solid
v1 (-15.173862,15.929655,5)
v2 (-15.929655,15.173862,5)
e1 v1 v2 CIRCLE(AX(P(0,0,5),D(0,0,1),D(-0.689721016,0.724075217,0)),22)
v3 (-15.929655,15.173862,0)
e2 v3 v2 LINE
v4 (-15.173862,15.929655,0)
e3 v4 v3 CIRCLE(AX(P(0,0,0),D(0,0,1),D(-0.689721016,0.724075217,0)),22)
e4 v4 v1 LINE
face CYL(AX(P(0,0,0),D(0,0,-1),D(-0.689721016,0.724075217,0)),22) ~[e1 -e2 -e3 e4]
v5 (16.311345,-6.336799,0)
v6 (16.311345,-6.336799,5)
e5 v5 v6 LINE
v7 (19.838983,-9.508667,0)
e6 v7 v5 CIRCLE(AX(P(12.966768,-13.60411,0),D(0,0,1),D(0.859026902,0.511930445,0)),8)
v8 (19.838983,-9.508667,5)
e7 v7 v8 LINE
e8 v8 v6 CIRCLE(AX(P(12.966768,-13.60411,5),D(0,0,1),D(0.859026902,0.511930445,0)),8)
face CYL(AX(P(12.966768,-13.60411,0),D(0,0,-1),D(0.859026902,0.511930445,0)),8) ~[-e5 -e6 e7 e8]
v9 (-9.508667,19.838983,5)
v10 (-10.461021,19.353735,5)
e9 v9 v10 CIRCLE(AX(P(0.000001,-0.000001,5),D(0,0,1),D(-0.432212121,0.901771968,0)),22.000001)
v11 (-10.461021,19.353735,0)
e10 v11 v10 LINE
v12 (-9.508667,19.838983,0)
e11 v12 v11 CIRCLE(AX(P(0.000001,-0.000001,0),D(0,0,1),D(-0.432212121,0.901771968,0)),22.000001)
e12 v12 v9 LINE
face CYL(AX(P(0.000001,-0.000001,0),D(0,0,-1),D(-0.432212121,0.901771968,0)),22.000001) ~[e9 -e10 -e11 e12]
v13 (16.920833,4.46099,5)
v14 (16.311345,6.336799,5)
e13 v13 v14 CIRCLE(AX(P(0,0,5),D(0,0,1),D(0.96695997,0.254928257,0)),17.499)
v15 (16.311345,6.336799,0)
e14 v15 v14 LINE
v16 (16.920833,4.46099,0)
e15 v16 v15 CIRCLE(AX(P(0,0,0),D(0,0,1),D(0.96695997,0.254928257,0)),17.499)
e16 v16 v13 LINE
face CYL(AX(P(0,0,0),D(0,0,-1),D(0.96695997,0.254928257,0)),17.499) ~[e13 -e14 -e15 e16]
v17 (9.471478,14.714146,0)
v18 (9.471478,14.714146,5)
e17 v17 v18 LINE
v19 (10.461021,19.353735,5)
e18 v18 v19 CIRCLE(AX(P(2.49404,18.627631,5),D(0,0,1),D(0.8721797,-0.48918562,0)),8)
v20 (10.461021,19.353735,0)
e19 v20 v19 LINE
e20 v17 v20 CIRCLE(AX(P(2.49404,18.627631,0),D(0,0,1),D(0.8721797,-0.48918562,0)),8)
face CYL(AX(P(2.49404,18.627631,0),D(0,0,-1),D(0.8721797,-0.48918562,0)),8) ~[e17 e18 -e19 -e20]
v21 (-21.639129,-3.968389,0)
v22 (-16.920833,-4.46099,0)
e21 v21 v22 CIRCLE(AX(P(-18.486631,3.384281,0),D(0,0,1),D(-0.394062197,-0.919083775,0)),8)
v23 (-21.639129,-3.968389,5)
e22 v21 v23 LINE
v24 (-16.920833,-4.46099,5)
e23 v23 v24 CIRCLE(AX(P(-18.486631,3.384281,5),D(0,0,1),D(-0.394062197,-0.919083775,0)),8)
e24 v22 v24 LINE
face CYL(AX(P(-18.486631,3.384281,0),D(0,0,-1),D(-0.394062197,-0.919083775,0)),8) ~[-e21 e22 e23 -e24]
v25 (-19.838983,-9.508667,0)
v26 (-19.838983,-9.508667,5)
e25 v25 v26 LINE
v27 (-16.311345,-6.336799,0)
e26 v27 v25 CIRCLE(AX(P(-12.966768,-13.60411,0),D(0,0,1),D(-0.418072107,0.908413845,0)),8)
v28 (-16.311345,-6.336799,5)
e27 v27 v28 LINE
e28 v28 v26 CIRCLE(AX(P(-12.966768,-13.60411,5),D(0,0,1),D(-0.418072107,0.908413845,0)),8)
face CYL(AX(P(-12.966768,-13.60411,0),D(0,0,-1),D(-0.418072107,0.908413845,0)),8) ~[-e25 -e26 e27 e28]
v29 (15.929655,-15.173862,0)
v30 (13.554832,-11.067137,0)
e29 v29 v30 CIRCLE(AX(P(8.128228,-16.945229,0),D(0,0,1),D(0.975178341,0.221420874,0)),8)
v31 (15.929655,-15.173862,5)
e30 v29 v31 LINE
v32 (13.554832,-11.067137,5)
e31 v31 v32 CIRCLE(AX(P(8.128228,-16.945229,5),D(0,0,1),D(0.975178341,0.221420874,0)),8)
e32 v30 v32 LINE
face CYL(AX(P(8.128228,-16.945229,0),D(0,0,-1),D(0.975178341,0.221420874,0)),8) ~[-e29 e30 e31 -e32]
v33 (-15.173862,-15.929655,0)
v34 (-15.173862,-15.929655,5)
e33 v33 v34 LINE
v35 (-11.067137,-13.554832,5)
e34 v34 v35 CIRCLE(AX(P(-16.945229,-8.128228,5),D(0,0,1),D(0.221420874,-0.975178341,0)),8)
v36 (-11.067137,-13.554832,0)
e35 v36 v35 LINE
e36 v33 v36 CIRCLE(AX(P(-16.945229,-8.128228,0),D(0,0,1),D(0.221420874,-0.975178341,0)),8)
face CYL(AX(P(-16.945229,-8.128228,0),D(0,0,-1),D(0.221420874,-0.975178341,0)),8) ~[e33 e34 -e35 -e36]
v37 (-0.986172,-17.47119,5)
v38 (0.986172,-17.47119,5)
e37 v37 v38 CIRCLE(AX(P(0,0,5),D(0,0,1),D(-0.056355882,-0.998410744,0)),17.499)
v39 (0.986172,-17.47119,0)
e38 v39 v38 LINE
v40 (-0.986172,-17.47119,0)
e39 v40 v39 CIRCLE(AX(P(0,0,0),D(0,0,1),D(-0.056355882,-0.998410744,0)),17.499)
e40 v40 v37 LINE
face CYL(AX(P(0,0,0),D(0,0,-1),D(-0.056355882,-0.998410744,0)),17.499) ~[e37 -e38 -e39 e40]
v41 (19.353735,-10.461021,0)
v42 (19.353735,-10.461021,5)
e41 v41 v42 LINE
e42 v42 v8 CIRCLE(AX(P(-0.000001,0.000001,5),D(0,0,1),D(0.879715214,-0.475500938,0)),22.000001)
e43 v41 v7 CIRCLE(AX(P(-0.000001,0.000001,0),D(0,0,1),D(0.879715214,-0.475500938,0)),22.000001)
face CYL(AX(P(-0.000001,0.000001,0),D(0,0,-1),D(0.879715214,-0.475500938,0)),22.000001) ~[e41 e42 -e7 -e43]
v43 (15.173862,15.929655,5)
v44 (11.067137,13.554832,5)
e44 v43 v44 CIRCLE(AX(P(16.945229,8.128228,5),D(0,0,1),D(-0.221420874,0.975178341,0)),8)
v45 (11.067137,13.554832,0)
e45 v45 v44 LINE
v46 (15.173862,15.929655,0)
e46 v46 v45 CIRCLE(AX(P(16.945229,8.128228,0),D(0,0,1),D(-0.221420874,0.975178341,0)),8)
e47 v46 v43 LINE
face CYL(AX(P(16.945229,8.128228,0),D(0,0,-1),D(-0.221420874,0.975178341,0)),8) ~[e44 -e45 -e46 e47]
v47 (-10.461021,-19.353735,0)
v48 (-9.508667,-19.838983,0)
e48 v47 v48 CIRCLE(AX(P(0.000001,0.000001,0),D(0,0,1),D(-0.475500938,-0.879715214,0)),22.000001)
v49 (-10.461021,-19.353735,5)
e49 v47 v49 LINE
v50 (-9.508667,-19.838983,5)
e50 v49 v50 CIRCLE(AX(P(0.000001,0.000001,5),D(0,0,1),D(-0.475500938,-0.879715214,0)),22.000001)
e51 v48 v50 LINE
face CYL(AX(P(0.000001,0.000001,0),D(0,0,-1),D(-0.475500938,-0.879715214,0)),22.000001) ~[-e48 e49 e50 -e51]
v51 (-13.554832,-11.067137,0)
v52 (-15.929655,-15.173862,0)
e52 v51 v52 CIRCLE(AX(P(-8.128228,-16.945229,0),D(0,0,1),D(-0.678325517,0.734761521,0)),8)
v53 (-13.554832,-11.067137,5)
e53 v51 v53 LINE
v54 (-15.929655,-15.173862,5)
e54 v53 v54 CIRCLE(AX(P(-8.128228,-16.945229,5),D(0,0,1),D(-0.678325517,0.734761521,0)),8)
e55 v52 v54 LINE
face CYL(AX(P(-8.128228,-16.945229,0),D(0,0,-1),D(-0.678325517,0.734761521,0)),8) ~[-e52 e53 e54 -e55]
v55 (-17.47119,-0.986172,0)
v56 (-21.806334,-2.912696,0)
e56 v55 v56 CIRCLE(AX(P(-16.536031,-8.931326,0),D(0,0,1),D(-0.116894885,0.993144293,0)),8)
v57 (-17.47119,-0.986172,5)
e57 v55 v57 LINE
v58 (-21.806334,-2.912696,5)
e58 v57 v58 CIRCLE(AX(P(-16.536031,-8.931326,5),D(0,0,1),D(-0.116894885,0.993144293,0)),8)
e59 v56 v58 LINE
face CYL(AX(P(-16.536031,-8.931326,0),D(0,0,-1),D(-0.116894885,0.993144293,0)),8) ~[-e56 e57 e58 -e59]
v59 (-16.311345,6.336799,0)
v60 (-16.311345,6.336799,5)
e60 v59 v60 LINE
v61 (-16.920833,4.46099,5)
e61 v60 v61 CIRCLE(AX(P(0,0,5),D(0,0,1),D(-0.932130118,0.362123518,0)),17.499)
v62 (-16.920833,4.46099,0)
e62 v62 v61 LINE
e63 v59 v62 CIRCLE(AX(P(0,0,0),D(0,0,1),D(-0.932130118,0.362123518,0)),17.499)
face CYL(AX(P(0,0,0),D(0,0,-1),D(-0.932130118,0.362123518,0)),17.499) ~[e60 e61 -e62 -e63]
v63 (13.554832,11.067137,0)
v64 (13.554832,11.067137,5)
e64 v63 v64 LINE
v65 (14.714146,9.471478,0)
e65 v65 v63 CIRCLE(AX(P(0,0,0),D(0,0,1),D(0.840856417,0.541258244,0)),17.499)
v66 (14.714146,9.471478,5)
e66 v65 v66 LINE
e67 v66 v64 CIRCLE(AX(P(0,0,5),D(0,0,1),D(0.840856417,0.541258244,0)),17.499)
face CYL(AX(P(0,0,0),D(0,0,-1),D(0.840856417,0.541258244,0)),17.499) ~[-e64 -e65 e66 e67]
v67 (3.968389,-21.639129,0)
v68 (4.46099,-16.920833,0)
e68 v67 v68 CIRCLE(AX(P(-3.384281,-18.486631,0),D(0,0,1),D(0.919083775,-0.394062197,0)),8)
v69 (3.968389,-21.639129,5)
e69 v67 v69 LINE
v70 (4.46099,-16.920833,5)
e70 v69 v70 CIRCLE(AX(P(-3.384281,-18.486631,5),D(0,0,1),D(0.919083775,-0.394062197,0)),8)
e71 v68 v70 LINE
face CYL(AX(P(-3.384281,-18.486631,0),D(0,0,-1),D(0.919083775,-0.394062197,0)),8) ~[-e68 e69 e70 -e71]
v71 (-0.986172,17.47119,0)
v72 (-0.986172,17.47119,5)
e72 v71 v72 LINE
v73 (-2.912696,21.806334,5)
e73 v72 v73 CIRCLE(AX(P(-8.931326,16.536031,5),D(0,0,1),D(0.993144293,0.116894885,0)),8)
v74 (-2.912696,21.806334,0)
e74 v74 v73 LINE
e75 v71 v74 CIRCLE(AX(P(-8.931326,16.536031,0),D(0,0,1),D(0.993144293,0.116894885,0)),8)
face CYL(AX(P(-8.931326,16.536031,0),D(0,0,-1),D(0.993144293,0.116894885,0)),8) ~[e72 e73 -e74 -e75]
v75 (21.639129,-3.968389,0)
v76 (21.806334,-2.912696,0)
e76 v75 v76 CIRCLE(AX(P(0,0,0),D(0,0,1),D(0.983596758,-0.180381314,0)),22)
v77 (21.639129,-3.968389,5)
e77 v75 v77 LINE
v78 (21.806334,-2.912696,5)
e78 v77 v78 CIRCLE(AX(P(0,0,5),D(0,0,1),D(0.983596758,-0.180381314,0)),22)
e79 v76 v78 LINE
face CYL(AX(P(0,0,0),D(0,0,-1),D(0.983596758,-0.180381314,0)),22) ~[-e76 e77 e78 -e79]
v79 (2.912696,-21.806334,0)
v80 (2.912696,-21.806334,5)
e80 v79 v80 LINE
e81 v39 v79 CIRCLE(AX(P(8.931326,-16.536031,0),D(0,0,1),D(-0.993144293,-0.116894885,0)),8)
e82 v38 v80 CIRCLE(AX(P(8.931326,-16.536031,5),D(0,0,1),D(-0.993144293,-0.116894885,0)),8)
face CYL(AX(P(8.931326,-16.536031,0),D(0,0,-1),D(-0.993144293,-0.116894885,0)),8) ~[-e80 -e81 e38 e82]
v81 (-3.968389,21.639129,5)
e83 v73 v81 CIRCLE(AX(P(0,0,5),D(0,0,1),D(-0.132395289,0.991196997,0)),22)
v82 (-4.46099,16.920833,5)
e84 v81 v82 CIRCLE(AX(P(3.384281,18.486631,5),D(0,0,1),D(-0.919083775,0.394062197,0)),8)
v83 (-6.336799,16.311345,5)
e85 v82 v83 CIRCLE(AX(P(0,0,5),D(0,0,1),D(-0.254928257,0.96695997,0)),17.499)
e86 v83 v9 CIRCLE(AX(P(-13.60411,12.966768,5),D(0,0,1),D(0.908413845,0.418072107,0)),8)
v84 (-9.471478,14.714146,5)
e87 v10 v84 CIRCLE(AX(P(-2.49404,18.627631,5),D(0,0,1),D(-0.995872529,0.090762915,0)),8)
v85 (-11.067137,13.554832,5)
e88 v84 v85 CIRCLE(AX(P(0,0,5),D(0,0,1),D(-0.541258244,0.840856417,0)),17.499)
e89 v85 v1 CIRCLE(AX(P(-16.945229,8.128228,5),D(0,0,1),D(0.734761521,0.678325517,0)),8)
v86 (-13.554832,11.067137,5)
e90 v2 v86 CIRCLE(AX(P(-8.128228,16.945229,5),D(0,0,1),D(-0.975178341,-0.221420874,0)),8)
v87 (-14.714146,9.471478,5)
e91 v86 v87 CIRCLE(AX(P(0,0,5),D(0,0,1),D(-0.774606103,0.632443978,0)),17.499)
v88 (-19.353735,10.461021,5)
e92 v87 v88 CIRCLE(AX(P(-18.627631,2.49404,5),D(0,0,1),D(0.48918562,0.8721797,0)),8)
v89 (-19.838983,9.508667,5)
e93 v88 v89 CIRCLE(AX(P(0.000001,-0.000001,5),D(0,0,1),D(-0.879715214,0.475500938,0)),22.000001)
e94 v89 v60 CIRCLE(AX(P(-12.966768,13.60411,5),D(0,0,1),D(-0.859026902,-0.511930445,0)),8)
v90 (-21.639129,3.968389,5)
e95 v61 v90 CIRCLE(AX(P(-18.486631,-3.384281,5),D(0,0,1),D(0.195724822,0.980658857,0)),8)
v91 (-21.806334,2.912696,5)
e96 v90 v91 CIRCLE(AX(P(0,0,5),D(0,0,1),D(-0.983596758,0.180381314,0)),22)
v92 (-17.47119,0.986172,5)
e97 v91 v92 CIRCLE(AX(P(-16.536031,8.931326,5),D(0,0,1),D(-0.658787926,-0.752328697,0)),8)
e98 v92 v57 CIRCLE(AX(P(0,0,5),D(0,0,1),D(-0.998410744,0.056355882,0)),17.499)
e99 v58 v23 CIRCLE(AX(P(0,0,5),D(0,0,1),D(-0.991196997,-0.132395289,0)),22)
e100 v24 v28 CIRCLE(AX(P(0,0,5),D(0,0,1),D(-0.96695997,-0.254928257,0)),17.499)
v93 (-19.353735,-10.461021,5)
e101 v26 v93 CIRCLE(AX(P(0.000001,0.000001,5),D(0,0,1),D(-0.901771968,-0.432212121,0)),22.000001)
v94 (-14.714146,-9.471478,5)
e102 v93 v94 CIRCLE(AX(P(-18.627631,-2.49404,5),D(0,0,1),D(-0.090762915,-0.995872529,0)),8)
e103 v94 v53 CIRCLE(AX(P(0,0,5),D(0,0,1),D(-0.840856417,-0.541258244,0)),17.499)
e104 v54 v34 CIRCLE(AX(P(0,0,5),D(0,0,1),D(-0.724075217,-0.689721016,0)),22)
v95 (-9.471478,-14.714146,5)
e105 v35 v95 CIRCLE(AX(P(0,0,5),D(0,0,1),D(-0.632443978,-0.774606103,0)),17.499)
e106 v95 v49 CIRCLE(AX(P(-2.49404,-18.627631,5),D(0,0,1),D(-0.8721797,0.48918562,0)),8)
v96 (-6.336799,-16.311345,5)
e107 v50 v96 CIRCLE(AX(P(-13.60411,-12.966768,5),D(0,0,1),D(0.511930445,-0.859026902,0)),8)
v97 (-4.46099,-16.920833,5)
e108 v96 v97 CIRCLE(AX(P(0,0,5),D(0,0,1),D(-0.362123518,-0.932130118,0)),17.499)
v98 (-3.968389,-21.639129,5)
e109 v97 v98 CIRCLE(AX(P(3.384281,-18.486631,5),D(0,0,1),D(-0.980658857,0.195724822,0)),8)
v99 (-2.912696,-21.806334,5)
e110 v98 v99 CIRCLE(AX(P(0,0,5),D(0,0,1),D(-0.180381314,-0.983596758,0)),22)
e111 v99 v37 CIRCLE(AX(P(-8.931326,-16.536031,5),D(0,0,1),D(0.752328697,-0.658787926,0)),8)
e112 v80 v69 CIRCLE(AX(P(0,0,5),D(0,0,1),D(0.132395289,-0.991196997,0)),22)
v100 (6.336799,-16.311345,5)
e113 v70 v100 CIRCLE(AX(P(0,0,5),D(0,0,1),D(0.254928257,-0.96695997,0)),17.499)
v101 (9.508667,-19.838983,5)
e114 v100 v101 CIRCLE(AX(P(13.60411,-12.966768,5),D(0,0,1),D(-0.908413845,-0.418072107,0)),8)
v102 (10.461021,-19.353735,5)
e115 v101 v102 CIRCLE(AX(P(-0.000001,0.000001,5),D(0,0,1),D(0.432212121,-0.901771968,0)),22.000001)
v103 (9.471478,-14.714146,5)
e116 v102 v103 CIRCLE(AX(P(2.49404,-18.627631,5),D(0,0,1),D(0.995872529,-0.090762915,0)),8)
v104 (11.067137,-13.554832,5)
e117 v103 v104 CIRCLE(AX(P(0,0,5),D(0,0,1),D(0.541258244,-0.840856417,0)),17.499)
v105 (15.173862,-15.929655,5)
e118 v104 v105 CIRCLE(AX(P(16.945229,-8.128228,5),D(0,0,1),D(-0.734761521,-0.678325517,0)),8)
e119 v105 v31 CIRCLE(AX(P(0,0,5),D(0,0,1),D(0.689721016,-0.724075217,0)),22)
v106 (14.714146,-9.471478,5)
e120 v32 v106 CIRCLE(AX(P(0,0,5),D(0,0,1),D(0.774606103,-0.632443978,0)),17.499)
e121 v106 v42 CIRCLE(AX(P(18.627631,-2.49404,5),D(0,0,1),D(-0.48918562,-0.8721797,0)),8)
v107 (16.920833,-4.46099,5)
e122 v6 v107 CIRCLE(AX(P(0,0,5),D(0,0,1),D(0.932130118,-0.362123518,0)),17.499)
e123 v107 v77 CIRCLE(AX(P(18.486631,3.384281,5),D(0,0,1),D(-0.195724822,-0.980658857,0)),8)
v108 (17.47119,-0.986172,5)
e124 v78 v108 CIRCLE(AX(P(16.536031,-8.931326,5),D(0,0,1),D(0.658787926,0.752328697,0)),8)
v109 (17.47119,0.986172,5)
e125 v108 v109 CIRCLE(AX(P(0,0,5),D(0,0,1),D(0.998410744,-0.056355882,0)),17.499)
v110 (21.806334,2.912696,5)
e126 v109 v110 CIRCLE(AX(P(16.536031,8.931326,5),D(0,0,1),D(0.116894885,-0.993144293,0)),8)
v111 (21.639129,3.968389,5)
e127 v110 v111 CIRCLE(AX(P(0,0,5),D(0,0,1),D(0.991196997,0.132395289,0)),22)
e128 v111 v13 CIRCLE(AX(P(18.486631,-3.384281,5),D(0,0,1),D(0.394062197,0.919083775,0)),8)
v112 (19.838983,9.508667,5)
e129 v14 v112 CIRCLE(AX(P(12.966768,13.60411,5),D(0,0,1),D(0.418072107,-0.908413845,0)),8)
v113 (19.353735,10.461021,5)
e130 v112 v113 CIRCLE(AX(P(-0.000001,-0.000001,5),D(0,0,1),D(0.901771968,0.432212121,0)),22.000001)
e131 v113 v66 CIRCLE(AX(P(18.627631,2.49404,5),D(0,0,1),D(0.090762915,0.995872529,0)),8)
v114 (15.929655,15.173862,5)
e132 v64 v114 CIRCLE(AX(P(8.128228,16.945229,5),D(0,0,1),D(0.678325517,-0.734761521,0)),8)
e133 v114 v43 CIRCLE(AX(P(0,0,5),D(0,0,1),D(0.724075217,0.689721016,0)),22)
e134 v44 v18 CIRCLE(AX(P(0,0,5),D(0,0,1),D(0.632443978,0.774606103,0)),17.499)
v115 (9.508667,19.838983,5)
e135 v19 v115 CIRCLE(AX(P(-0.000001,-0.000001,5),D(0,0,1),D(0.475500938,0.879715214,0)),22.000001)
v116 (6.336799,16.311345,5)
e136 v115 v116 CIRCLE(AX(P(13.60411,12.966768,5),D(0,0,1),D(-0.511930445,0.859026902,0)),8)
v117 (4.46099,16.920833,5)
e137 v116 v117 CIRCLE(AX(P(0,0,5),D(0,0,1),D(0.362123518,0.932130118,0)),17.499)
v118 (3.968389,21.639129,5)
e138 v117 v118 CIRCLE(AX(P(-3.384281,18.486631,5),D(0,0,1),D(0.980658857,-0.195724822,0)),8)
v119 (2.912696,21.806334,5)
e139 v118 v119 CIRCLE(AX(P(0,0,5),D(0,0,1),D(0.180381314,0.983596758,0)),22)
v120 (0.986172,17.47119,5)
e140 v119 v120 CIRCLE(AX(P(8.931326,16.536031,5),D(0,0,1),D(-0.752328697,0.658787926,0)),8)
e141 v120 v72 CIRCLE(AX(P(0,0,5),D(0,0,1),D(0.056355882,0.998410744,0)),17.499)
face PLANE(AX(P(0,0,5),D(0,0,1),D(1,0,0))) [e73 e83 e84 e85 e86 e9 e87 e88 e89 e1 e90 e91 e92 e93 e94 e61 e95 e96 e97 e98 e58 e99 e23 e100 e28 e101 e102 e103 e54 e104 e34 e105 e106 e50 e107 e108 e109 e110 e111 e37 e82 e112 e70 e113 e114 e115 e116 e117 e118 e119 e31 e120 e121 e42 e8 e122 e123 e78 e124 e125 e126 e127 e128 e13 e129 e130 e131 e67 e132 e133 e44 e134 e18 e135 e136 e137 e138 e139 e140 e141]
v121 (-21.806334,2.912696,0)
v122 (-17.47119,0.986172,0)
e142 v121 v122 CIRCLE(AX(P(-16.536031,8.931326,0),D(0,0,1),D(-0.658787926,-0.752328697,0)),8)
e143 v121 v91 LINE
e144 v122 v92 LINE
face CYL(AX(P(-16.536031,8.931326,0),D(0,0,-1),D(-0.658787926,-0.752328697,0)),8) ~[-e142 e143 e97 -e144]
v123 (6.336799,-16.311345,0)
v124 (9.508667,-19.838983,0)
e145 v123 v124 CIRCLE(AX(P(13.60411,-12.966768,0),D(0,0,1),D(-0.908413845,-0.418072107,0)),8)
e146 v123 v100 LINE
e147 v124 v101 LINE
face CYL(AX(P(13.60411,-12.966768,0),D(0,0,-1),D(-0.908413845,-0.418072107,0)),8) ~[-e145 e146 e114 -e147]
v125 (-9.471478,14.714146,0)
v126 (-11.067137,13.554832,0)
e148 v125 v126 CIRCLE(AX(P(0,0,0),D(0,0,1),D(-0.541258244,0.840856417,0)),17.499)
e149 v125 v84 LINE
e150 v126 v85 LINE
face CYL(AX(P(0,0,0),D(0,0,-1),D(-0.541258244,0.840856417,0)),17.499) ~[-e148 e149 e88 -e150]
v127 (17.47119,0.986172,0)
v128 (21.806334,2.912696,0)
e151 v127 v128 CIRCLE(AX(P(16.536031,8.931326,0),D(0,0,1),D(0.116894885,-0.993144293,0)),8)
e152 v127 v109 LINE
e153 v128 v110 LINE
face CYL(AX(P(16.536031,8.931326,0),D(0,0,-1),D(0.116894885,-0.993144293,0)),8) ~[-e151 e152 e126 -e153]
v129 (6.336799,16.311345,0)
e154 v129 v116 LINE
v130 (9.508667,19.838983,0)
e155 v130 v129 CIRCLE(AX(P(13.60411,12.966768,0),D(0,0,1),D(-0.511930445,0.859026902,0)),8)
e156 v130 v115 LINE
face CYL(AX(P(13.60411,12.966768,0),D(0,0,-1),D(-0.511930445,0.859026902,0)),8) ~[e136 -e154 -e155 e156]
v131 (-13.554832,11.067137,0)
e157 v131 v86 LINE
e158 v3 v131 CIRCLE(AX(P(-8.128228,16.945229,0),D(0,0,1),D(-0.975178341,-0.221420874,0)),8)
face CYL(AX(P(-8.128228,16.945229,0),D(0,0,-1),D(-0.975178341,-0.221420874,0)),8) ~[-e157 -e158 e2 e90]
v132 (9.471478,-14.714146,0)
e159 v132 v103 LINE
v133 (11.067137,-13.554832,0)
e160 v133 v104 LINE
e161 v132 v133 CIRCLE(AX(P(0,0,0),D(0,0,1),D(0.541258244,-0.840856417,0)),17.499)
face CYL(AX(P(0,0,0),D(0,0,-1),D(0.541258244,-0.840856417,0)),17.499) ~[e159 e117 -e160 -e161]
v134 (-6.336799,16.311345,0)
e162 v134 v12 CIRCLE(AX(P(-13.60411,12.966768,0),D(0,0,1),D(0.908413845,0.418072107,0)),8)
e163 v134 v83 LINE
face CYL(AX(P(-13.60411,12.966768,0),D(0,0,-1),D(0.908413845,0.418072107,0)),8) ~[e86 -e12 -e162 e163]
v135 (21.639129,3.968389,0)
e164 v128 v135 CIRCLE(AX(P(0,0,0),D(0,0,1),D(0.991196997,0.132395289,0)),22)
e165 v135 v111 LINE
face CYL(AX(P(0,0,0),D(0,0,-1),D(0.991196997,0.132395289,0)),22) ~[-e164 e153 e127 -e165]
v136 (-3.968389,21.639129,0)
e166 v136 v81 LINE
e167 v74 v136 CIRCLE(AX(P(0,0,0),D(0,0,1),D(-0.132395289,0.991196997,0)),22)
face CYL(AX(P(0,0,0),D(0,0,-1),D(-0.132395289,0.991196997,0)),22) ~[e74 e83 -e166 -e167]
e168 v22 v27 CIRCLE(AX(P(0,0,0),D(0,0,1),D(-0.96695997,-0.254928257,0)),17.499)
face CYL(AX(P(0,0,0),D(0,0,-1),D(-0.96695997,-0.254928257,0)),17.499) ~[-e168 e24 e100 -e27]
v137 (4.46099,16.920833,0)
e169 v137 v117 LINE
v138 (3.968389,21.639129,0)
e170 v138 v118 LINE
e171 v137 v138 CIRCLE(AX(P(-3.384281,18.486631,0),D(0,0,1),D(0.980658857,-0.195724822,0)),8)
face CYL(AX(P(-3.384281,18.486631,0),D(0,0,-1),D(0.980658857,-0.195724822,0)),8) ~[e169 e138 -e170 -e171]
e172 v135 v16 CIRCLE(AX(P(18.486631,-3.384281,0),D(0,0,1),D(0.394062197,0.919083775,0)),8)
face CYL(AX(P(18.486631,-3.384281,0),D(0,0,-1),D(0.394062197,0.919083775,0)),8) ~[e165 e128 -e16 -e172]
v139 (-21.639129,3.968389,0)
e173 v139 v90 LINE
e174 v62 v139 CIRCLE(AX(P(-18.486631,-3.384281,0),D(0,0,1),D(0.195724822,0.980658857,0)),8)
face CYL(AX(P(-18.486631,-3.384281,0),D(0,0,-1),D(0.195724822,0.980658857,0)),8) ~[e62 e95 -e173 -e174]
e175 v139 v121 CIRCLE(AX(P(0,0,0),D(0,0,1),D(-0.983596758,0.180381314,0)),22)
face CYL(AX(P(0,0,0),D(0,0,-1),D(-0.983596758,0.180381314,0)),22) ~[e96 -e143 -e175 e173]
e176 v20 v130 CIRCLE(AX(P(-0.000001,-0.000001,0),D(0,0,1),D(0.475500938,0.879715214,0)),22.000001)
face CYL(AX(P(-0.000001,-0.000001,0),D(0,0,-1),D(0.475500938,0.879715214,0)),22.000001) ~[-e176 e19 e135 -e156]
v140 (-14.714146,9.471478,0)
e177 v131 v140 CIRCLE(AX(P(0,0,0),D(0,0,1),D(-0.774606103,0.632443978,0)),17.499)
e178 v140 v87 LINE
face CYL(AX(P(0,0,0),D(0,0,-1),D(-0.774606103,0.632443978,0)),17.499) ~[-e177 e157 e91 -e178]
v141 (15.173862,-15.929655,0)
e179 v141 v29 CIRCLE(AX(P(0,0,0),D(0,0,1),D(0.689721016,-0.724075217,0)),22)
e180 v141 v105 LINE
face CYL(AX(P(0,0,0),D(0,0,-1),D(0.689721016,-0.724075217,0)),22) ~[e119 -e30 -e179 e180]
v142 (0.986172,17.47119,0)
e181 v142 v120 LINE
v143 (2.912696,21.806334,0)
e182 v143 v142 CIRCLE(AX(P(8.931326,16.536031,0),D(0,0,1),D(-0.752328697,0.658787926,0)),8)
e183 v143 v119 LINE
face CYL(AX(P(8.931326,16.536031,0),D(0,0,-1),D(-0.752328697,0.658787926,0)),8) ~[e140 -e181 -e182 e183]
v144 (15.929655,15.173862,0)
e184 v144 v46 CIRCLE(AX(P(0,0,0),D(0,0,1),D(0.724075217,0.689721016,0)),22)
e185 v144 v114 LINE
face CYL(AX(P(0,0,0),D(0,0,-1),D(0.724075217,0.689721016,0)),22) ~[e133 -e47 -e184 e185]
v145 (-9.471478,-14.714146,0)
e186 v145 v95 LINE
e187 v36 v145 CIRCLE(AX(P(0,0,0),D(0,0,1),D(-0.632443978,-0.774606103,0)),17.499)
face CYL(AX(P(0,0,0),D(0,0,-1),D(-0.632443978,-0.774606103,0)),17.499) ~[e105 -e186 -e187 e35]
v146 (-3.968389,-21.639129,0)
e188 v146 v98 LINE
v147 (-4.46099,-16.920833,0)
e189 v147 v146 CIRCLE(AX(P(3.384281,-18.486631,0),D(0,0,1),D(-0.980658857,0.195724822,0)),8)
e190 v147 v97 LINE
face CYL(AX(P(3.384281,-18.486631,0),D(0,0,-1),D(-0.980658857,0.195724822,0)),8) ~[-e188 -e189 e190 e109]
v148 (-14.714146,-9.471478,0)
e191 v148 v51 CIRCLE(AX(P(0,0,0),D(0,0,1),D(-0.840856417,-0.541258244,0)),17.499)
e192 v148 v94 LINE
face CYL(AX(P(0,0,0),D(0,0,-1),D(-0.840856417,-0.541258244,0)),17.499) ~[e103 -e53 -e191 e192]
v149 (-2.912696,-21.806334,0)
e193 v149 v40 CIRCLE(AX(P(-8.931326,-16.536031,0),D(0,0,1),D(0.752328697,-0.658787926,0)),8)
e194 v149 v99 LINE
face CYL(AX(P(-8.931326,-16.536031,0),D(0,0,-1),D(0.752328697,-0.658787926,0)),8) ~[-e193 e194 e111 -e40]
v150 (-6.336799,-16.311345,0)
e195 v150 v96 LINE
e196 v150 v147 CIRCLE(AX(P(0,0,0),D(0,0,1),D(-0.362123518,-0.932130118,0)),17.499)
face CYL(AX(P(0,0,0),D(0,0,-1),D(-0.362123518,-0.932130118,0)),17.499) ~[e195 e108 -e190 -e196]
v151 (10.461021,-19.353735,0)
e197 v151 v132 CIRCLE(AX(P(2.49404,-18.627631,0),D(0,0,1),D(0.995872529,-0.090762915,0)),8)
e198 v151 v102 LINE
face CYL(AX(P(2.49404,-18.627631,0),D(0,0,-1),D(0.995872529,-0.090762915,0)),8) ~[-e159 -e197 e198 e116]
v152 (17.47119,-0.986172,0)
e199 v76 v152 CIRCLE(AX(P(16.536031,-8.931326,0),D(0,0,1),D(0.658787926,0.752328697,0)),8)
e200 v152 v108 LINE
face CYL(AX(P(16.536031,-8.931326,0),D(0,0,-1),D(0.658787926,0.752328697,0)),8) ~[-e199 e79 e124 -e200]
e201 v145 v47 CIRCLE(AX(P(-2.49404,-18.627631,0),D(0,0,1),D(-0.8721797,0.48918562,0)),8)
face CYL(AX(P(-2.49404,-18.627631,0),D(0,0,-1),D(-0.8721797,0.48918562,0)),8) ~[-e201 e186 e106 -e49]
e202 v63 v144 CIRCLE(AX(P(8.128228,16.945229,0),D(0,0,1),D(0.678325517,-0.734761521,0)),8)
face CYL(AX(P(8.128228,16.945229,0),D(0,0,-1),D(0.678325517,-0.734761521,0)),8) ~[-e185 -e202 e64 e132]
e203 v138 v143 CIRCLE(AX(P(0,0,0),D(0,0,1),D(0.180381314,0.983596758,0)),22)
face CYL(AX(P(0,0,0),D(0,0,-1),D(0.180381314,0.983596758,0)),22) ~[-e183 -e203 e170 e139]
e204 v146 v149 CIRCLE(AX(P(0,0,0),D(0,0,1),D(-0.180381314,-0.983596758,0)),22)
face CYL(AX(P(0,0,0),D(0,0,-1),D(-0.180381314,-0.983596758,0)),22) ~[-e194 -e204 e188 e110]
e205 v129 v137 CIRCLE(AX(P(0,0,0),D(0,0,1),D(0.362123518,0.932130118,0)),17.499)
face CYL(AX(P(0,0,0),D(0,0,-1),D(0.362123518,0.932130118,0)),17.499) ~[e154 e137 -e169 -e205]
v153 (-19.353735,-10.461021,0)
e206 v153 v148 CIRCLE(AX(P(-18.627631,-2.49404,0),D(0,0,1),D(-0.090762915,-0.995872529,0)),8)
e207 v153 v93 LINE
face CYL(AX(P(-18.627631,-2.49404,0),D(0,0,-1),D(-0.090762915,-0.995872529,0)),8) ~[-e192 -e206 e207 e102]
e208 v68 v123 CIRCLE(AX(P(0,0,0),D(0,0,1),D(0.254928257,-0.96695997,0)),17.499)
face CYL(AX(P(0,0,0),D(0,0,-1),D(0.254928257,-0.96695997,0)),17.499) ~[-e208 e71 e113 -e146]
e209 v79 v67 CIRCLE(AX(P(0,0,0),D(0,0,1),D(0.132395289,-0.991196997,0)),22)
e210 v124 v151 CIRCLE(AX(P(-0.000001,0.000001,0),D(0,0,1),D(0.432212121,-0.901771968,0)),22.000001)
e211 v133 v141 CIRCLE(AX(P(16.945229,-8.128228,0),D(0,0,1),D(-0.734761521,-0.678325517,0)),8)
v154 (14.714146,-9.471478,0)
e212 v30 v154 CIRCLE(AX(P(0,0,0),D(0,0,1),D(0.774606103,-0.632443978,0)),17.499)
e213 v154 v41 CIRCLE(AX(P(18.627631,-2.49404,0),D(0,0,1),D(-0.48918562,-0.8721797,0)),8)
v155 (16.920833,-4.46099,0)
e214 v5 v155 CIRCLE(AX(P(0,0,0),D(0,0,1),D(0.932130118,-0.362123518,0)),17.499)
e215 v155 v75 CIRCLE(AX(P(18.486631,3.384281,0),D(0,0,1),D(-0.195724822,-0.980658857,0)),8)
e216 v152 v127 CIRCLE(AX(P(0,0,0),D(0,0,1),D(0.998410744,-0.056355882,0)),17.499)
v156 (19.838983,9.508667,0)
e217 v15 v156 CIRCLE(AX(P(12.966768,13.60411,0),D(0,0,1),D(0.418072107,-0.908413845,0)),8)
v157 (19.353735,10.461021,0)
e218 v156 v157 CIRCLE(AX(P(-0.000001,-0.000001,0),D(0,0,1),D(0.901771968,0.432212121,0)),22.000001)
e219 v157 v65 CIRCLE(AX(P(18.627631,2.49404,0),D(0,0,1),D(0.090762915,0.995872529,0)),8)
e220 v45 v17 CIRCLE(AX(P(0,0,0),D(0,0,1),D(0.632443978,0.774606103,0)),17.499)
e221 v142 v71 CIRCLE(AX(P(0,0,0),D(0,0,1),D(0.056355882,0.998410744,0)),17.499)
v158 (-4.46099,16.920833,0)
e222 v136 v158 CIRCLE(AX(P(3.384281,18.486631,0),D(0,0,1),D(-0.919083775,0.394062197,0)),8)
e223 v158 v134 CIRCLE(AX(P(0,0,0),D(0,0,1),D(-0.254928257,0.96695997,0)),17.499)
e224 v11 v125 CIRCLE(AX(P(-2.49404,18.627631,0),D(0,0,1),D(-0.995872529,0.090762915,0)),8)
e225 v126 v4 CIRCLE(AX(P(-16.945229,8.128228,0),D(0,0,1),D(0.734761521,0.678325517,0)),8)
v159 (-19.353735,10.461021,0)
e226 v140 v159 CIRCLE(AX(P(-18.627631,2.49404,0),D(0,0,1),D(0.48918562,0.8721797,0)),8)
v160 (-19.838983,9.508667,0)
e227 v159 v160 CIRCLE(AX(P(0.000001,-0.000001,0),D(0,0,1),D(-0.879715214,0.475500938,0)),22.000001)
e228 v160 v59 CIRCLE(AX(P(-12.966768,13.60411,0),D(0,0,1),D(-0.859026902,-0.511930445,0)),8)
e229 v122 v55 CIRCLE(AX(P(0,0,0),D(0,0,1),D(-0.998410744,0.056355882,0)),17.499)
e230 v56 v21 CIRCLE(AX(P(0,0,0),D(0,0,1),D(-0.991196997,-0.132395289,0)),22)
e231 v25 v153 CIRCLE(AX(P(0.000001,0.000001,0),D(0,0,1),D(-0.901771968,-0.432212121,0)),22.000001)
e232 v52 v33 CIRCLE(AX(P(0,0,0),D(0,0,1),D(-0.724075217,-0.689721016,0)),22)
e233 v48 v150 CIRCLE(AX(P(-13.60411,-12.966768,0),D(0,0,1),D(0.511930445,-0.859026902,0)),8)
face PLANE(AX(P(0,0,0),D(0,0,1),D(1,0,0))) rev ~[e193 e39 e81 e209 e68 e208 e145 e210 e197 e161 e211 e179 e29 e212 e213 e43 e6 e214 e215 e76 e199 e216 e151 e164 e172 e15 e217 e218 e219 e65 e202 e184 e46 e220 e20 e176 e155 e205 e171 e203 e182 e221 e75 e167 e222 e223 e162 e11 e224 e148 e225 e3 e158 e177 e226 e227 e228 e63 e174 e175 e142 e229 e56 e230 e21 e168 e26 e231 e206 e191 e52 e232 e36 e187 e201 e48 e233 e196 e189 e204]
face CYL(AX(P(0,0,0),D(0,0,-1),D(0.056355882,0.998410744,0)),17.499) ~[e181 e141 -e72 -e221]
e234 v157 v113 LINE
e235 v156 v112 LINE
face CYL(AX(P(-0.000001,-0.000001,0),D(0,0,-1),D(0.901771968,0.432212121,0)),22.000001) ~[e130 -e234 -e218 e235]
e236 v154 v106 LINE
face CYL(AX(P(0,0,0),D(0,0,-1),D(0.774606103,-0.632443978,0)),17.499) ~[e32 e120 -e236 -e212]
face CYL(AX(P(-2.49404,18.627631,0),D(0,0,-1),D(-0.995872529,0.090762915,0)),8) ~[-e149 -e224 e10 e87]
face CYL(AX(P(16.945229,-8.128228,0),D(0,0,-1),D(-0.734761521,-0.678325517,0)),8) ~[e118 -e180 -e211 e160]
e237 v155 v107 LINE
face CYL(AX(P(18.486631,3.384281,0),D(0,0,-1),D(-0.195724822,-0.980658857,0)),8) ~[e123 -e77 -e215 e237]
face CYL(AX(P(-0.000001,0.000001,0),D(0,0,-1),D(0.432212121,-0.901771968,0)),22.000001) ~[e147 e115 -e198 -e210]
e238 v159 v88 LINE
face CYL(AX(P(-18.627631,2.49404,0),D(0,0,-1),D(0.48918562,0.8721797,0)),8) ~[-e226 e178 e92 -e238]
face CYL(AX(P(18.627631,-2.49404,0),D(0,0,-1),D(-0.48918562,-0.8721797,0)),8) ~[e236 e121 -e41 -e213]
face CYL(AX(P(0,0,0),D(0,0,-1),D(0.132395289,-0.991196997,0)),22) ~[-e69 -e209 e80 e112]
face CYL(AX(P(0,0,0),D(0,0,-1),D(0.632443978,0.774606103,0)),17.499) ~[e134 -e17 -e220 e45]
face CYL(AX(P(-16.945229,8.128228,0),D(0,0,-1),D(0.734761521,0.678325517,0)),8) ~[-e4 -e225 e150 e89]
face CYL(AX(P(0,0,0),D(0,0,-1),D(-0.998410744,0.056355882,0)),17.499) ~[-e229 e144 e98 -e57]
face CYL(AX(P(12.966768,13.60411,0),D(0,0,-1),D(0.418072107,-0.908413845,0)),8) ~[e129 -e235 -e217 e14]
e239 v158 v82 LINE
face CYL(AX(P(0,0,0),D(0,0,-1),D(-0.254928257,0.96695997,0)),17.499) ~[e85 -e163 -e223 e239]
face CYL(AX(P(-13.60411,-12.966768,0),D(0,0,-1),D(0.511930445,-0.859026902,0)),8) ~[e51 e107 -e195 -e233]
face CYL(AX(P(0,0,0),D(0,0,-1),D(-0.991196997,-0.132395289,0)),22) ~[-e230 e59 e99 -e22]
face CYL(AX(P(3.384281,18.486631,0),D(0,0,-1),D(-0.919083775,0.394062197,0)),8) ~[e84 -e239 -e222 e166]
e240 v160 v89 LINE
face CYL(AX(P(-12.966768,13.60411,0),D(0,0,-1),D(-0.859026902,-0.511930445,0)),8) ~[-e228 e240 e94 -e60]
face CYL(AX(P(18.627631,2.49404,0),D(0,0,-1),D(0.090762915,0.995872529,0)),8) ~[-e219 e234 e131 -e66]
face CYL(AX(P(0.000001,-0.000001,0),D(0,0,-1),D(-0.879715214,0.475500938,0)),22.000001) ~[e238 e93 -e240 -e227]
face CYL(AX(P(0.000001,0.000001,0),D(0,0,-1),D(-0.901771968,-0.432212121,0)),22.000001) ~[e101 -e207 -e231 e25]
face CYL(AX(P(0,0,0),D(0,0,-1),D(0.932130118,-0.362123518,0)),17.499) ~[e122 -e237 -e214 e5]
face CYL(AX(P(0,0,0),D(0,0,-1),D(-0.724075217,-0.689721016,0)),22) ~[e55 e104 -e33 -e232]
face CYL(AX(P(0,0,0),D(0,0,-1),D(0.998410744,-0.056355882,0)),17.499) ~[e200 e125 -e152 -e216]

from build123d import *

# Parameters (mm, degrees)
BOSS_EXTRUDE1_DEPTH = 5


with BuildPart() as part:
    # Sketch1 → Boss-Extrude1 (new body)
    with BuildSketch(Plane.XY):
        with BuildLine():
            ThreePointArc((-21.806333941, 2.912696354), (-19.784848102, 1.620704589), (-17.471189616, 0.986171591))
            ThreePointArc((-17.471189616, 0.986171591), (-17.499, 0), (-17.471189616, -0.986171591))
            ThreePointArc((-17.471189616, -0.986171591), (-19.784848102, -1.620704589), (-21.806333941, -2.912696354))
            ThreePointArc((-21.806333941, -2.912696354), (-21.729143493, -3.441558231), (-21.639128664, -3.968388926))
            ThreePointArc((-21.639128664, -3.968388926), (-19.317333972, -4.572472634), (-16.920832513, -4.460989585))
            ThreePointArc((-16.920832513, -4.460989585), (-16.642537979, -5.407488385), (-16.31134495, -6.336799421))
            ThreePointArc((-16.31134495, -6.336799421), (-18.31568345, -7.655235955), (-19.838983319, -9.50866662))
            ThreePointArc((-19.838983319, -9.50866662), (-19.602143532, -9.987790994), (-19.353734704, -10.461020648))
            ThreePointArc((-19.353734704, -10.461020648), (-16.958904602, -10.318064378), (-14.714146429, -9.471478019))
            ThreePointArc((-14.714146429, -9.471478019), (-14.156988385, -10.28565413), (-13.554832194, -11.067137173))
            ThreePointArc((-13.554832194, -11.067137173), (-15.05365209, -12.940419489), (-15.929654782, -15.173862347))
            ThreePointArc((-15.929654782, -15.173862347), (-15.556349186, -15.556349186), (-15.173862347, -15.929654782))
            ThreePointArc((-15.173862347, -15.929654782), (-12.940419489, -15.05365209), (-11.067137173, -13.554832194))
            ThreePointArc((-11.067137173, -13.554832194), (-10.28565413, -14.156988385), (-9.471478019, -14.714146429))
            ThreePointArc((-9.471478019, -14.714146429), (-10.318064378, -16.958904602), (-10.461020648, -19.353734704))
            ThreePointArc((-10.461020648, -19.353734704), (-9.987790994, -19.602143532), (-9.50866662, -19.838983319))
            ThreePointArc((-9.50866662, -19.838983319), (-7.655235955, -18.31568345), (-6.336799421, -16.31134495))
            ThreePointArc((-6.336799421, -16.31134495), (-5.407488385, -16.642537979), (-4.460989585, -16.920832513))
            ThreePointArc((-4.460989585, -16.920832513), (-4.572472634, -19.317333972), (-3.968388926, -21.639128664))
            ThreePointArc((-3.968388926, -21.639128664), (-3.441558231, -21.729143493), (-2.912696354, -21.806333941))
            ThreePointArc((-2.912696354, -21.806333941), (-1.620704589, -19.784848102), (-0.986171591, -17.471189616))
            ThreePointArc((-0.986171591, -17.471189616), (0, -17.499), (0.986171591, -17.471189616))
            ThreePointArc((0.986171591, -17.471189616), (1.620704589, -19.784848102), (2.912696354, -21.806333941))
            ThreePointArc((2.912696354, -21.806333941), (3.441558231, -21.729143493), (3.968388926, -21.639128664))
            ThreePointArc((3.968388926, -21.639128664), (4.572472634, -19.317333972), (4.460989585, -16.920832513))
            ThreePointArc((4.460989585, -16.920832513), (5.407488385, -16.642537979), (6.336799421, -16.31134495))
            ThreePointArc((6.336799421, -16.31134495), (7.655235955, -18.31568345), (9.50866662, -19.838983319))
            ThreePointArc((9.50866662, -19.838983319), (9.987790994, -19.602143532), (10.461020648, -19.353734704))
            ThreePointArc((10.461020648, -19.353734704), (10.318064378, -16.958904602), (9.471478019, -14.714146429))
            ThreePointArc((9.471478019, -14.714146429), (10.28565413, -14.156988385), (11.067137173, -13.554832194))
            ThreePointArc((11.067137173, -13.554832194), (12.940419489, -15.05365209), (15.173862347, -15.929654782))
            ThreePointArc((15.173862347, -15.929654782), (15.556349186, -15.556349186), (15.929654782, -15.173862347))
            ThreePointArc((15.929654782, -15.173862347), (15.05365209, -12.940419489), (13.554832194, -11.067137173))
            ThreePointArc((13.554832194, -11.067137173), (14.156988385, -10.28565413), (14.714146429, -9.471478019))
            ThreePointArc((14.714146429, -9.471478019), (16.958904602, -10.318064378), (19.353734704, -10.461020648))
            ThreePointArc((19.353734704, -10.461020648), (19.602143532, -9.987790994), (19.838983319, -9.50866662))
            ThreePointArc((19.838983319, -9.50866662), (18.31568345, -7.655235955), (16.31134495, -6.336799421))
            ThreePointArc((16.31134495, -6.336799421), (16.642537979, -5.407488385), (16.920832513, -4.460989585))
            ThreePointArc((16.920832513, -4.460989585), (19.317333972, -4.572472634), (21.639128664, -3.968388926))
            ThreePointArc((21.639128664, -3.968388926), (21.729143493, -3.441558231), (21.806333941, -2.912696354))
            ThreePointArc((21.806333941, -2.912696354), (19.784848102, -1.620704589), (17.471189616, -0.986171591))
            ThreePointArc((17.471189616, -0.986171591), (17.499, 0), (17.471189616, 0.986171591))
            ThreePointArc((17.471189616, 0.986171591), (19.784848102, 1.620704589), (21.806333941, 2.912696354))
            ThreePointArc((21.806333941, 2.912696354), (21.729143493, 3.441558231), (21.639128664, 3.968388926))
            ThreePointArc((21.639128664, 3.968388926), (19.317333972, 4.572472634), (16.920832513, 4.460989585))
            ThreePointArc((16.920832513, 4.460989585), (16.642537979, 5.407488385), (16.31134495, 6.336799421))
            ThreePointArc((16.31134495, 6.336799421), (18.31568345, 7.655235955), (19.838983319, 9.50866662))
            ThreePointArc((19.838983319, 9.50866662), (19.602143532, 9.987790994), (19.353734704, 10.461020648))
            ThreePointArc((19.353734704, 10.461020648), (16.958904602, 10.318064378), (14.714146429, 9.471478019))
            ThreePointArc((14.714146429, 9.471478019), (14.156988385, 10.28565413), (13.554832194, 11.067137173))
            ThreePointArc((13.554832194, 11.067137173), (15.05365209, 12.940419489), (15.929654782, 15.173862347))
            ThreePointArc((15.929654782, 15.173862347), (15.556349186, 15.556349186), (15.173862347, 15.929654782))
            ThreePointArc((15.173862347, 15.929654782), (12.940419489, 15.05365209), (11.067137173, 13.554832194))
            ThreePointArc((11.067137173, 13.554832194), (10.28565413, 14.156988385), (9.471478019, 14.714146429))
            ThreePointArc((9.471478019, 14.714146429), (10.318064378, 16.958904602), (10.461020648, 19.353734704))
            ThreePointArc((10.461020648, 19.353734704), (9.987790994, 19.602143532), (9.50866662, 19.838983319))
            ThreePointArc((9.50866662, 19.838983319), (7.655235955, 18.31568345), (6.336799421, 16.31134495))
            ThreePointArc((6.336799421, 16.31134495), (5.407488385, 16.642537979), (4.460989585, 16.920832513))
            ThreePointArc((4.460989585, 16.920832513), (4.572472634, 19.317333972), (3.968388926, 21.639128664))
            ThreePointArc((3.968388926, 21.639128664), (3.441558231, 21.729143493), (2.912696354, 21.806333941))
            ThreePointArc((2.912696354, 21.806333941), (1.620704589, 19.784848102), (0.986171591, 17.471189616))
            ThreePointArc((0.986171591, 17.471189616), (0, 17.499), (-0.986171591, 17.471189616))
            ThreePointArc((-0.986171591, 17.471189616), (-1.620704589, 19.784848102), (-2.912696354, 21.806333941))
            ThreePointArc((-2.912696354, 21.806333941), (-3.441558231, 21.729143493), (-3.968388926, 21.639128664))
            ThreePointArc((-3.968388926, 21.639128664), (-4.572472634, 19.317333972), (-4.460989585, 16.920832513))
            ThreePointArc((-4.460989585, 16.920832513), (-5.407488385, 16.642537979), (-6.336799421, 16.31134495))
            ThreePointArc((-6.336799421, 16.31134495), (-7.655235955, 18.31568345), (-9.50866662, 19.838983319))
            ThreePointArc((-9.50866662, 19.838983319), (-9.987790994, 19.602143532), (-10.461020648, 19.353734704))
            ThreePointArc((-10.461020648, 19.353734704), (-10.318064378, 16.958904602), (-9.471478019, 14.714146429))
            ThreePointArc((-9.471478019, 14.714146429), (-10.28565413, 14.156988385), (-11.067137173, 13.554832194))
            ThreePointArc((-11.067137173, 13.554832194), (-12.940419489, 15.05365209), (-15.173862347, 15.929654782))
            ThreePointArc((-15.173862347, 15.929654782), (-15.556349186, 15.556349186), (-15.929654782, 15.173862347))
            ThreePointArc((-15.929654782, 15.173862347), (-15.05365209, 12.940419489), (-13.554832194, 11.067137173))
            ThreePointArc((-13.554832194, 11.067137173), (-14.156988385, 10.28565413), (-14.714146429, 9.471478019))
            ThreePointArc((-14.714146429, 9.471478019), (-16.958904602, 10.318064378), (-19.353734704, 10.461020648))
            ThreePointArc((-19.353734704, 10.461020648), (-19.602143532, 9.987790994), (-19.838983319, 9.50866662))
            ThreePointArc((-19.838983319, 9.50866662), (-18.31568345, 7.655235955), (-16.31134495, 6.336799421))
            ThreePointArc((-16.31134495, 6.336799421), (-16.642537979, 5.407488385), (-16.920832513, 4.460989585))
            ThreePointArc((-16.920832513, 4.460989585), (-19.317333972, 4.572472634), (-21.639128664, 3.968388926))
            ThreePointArc((-21.639128664, 3.968388926), (-21.729143493, 3.441558231), (-21.806333941, 2.912696354))
        make_face()
    extrude(amount=BOSS_EXTRUDE1_DEPTH)


solid = part.part
